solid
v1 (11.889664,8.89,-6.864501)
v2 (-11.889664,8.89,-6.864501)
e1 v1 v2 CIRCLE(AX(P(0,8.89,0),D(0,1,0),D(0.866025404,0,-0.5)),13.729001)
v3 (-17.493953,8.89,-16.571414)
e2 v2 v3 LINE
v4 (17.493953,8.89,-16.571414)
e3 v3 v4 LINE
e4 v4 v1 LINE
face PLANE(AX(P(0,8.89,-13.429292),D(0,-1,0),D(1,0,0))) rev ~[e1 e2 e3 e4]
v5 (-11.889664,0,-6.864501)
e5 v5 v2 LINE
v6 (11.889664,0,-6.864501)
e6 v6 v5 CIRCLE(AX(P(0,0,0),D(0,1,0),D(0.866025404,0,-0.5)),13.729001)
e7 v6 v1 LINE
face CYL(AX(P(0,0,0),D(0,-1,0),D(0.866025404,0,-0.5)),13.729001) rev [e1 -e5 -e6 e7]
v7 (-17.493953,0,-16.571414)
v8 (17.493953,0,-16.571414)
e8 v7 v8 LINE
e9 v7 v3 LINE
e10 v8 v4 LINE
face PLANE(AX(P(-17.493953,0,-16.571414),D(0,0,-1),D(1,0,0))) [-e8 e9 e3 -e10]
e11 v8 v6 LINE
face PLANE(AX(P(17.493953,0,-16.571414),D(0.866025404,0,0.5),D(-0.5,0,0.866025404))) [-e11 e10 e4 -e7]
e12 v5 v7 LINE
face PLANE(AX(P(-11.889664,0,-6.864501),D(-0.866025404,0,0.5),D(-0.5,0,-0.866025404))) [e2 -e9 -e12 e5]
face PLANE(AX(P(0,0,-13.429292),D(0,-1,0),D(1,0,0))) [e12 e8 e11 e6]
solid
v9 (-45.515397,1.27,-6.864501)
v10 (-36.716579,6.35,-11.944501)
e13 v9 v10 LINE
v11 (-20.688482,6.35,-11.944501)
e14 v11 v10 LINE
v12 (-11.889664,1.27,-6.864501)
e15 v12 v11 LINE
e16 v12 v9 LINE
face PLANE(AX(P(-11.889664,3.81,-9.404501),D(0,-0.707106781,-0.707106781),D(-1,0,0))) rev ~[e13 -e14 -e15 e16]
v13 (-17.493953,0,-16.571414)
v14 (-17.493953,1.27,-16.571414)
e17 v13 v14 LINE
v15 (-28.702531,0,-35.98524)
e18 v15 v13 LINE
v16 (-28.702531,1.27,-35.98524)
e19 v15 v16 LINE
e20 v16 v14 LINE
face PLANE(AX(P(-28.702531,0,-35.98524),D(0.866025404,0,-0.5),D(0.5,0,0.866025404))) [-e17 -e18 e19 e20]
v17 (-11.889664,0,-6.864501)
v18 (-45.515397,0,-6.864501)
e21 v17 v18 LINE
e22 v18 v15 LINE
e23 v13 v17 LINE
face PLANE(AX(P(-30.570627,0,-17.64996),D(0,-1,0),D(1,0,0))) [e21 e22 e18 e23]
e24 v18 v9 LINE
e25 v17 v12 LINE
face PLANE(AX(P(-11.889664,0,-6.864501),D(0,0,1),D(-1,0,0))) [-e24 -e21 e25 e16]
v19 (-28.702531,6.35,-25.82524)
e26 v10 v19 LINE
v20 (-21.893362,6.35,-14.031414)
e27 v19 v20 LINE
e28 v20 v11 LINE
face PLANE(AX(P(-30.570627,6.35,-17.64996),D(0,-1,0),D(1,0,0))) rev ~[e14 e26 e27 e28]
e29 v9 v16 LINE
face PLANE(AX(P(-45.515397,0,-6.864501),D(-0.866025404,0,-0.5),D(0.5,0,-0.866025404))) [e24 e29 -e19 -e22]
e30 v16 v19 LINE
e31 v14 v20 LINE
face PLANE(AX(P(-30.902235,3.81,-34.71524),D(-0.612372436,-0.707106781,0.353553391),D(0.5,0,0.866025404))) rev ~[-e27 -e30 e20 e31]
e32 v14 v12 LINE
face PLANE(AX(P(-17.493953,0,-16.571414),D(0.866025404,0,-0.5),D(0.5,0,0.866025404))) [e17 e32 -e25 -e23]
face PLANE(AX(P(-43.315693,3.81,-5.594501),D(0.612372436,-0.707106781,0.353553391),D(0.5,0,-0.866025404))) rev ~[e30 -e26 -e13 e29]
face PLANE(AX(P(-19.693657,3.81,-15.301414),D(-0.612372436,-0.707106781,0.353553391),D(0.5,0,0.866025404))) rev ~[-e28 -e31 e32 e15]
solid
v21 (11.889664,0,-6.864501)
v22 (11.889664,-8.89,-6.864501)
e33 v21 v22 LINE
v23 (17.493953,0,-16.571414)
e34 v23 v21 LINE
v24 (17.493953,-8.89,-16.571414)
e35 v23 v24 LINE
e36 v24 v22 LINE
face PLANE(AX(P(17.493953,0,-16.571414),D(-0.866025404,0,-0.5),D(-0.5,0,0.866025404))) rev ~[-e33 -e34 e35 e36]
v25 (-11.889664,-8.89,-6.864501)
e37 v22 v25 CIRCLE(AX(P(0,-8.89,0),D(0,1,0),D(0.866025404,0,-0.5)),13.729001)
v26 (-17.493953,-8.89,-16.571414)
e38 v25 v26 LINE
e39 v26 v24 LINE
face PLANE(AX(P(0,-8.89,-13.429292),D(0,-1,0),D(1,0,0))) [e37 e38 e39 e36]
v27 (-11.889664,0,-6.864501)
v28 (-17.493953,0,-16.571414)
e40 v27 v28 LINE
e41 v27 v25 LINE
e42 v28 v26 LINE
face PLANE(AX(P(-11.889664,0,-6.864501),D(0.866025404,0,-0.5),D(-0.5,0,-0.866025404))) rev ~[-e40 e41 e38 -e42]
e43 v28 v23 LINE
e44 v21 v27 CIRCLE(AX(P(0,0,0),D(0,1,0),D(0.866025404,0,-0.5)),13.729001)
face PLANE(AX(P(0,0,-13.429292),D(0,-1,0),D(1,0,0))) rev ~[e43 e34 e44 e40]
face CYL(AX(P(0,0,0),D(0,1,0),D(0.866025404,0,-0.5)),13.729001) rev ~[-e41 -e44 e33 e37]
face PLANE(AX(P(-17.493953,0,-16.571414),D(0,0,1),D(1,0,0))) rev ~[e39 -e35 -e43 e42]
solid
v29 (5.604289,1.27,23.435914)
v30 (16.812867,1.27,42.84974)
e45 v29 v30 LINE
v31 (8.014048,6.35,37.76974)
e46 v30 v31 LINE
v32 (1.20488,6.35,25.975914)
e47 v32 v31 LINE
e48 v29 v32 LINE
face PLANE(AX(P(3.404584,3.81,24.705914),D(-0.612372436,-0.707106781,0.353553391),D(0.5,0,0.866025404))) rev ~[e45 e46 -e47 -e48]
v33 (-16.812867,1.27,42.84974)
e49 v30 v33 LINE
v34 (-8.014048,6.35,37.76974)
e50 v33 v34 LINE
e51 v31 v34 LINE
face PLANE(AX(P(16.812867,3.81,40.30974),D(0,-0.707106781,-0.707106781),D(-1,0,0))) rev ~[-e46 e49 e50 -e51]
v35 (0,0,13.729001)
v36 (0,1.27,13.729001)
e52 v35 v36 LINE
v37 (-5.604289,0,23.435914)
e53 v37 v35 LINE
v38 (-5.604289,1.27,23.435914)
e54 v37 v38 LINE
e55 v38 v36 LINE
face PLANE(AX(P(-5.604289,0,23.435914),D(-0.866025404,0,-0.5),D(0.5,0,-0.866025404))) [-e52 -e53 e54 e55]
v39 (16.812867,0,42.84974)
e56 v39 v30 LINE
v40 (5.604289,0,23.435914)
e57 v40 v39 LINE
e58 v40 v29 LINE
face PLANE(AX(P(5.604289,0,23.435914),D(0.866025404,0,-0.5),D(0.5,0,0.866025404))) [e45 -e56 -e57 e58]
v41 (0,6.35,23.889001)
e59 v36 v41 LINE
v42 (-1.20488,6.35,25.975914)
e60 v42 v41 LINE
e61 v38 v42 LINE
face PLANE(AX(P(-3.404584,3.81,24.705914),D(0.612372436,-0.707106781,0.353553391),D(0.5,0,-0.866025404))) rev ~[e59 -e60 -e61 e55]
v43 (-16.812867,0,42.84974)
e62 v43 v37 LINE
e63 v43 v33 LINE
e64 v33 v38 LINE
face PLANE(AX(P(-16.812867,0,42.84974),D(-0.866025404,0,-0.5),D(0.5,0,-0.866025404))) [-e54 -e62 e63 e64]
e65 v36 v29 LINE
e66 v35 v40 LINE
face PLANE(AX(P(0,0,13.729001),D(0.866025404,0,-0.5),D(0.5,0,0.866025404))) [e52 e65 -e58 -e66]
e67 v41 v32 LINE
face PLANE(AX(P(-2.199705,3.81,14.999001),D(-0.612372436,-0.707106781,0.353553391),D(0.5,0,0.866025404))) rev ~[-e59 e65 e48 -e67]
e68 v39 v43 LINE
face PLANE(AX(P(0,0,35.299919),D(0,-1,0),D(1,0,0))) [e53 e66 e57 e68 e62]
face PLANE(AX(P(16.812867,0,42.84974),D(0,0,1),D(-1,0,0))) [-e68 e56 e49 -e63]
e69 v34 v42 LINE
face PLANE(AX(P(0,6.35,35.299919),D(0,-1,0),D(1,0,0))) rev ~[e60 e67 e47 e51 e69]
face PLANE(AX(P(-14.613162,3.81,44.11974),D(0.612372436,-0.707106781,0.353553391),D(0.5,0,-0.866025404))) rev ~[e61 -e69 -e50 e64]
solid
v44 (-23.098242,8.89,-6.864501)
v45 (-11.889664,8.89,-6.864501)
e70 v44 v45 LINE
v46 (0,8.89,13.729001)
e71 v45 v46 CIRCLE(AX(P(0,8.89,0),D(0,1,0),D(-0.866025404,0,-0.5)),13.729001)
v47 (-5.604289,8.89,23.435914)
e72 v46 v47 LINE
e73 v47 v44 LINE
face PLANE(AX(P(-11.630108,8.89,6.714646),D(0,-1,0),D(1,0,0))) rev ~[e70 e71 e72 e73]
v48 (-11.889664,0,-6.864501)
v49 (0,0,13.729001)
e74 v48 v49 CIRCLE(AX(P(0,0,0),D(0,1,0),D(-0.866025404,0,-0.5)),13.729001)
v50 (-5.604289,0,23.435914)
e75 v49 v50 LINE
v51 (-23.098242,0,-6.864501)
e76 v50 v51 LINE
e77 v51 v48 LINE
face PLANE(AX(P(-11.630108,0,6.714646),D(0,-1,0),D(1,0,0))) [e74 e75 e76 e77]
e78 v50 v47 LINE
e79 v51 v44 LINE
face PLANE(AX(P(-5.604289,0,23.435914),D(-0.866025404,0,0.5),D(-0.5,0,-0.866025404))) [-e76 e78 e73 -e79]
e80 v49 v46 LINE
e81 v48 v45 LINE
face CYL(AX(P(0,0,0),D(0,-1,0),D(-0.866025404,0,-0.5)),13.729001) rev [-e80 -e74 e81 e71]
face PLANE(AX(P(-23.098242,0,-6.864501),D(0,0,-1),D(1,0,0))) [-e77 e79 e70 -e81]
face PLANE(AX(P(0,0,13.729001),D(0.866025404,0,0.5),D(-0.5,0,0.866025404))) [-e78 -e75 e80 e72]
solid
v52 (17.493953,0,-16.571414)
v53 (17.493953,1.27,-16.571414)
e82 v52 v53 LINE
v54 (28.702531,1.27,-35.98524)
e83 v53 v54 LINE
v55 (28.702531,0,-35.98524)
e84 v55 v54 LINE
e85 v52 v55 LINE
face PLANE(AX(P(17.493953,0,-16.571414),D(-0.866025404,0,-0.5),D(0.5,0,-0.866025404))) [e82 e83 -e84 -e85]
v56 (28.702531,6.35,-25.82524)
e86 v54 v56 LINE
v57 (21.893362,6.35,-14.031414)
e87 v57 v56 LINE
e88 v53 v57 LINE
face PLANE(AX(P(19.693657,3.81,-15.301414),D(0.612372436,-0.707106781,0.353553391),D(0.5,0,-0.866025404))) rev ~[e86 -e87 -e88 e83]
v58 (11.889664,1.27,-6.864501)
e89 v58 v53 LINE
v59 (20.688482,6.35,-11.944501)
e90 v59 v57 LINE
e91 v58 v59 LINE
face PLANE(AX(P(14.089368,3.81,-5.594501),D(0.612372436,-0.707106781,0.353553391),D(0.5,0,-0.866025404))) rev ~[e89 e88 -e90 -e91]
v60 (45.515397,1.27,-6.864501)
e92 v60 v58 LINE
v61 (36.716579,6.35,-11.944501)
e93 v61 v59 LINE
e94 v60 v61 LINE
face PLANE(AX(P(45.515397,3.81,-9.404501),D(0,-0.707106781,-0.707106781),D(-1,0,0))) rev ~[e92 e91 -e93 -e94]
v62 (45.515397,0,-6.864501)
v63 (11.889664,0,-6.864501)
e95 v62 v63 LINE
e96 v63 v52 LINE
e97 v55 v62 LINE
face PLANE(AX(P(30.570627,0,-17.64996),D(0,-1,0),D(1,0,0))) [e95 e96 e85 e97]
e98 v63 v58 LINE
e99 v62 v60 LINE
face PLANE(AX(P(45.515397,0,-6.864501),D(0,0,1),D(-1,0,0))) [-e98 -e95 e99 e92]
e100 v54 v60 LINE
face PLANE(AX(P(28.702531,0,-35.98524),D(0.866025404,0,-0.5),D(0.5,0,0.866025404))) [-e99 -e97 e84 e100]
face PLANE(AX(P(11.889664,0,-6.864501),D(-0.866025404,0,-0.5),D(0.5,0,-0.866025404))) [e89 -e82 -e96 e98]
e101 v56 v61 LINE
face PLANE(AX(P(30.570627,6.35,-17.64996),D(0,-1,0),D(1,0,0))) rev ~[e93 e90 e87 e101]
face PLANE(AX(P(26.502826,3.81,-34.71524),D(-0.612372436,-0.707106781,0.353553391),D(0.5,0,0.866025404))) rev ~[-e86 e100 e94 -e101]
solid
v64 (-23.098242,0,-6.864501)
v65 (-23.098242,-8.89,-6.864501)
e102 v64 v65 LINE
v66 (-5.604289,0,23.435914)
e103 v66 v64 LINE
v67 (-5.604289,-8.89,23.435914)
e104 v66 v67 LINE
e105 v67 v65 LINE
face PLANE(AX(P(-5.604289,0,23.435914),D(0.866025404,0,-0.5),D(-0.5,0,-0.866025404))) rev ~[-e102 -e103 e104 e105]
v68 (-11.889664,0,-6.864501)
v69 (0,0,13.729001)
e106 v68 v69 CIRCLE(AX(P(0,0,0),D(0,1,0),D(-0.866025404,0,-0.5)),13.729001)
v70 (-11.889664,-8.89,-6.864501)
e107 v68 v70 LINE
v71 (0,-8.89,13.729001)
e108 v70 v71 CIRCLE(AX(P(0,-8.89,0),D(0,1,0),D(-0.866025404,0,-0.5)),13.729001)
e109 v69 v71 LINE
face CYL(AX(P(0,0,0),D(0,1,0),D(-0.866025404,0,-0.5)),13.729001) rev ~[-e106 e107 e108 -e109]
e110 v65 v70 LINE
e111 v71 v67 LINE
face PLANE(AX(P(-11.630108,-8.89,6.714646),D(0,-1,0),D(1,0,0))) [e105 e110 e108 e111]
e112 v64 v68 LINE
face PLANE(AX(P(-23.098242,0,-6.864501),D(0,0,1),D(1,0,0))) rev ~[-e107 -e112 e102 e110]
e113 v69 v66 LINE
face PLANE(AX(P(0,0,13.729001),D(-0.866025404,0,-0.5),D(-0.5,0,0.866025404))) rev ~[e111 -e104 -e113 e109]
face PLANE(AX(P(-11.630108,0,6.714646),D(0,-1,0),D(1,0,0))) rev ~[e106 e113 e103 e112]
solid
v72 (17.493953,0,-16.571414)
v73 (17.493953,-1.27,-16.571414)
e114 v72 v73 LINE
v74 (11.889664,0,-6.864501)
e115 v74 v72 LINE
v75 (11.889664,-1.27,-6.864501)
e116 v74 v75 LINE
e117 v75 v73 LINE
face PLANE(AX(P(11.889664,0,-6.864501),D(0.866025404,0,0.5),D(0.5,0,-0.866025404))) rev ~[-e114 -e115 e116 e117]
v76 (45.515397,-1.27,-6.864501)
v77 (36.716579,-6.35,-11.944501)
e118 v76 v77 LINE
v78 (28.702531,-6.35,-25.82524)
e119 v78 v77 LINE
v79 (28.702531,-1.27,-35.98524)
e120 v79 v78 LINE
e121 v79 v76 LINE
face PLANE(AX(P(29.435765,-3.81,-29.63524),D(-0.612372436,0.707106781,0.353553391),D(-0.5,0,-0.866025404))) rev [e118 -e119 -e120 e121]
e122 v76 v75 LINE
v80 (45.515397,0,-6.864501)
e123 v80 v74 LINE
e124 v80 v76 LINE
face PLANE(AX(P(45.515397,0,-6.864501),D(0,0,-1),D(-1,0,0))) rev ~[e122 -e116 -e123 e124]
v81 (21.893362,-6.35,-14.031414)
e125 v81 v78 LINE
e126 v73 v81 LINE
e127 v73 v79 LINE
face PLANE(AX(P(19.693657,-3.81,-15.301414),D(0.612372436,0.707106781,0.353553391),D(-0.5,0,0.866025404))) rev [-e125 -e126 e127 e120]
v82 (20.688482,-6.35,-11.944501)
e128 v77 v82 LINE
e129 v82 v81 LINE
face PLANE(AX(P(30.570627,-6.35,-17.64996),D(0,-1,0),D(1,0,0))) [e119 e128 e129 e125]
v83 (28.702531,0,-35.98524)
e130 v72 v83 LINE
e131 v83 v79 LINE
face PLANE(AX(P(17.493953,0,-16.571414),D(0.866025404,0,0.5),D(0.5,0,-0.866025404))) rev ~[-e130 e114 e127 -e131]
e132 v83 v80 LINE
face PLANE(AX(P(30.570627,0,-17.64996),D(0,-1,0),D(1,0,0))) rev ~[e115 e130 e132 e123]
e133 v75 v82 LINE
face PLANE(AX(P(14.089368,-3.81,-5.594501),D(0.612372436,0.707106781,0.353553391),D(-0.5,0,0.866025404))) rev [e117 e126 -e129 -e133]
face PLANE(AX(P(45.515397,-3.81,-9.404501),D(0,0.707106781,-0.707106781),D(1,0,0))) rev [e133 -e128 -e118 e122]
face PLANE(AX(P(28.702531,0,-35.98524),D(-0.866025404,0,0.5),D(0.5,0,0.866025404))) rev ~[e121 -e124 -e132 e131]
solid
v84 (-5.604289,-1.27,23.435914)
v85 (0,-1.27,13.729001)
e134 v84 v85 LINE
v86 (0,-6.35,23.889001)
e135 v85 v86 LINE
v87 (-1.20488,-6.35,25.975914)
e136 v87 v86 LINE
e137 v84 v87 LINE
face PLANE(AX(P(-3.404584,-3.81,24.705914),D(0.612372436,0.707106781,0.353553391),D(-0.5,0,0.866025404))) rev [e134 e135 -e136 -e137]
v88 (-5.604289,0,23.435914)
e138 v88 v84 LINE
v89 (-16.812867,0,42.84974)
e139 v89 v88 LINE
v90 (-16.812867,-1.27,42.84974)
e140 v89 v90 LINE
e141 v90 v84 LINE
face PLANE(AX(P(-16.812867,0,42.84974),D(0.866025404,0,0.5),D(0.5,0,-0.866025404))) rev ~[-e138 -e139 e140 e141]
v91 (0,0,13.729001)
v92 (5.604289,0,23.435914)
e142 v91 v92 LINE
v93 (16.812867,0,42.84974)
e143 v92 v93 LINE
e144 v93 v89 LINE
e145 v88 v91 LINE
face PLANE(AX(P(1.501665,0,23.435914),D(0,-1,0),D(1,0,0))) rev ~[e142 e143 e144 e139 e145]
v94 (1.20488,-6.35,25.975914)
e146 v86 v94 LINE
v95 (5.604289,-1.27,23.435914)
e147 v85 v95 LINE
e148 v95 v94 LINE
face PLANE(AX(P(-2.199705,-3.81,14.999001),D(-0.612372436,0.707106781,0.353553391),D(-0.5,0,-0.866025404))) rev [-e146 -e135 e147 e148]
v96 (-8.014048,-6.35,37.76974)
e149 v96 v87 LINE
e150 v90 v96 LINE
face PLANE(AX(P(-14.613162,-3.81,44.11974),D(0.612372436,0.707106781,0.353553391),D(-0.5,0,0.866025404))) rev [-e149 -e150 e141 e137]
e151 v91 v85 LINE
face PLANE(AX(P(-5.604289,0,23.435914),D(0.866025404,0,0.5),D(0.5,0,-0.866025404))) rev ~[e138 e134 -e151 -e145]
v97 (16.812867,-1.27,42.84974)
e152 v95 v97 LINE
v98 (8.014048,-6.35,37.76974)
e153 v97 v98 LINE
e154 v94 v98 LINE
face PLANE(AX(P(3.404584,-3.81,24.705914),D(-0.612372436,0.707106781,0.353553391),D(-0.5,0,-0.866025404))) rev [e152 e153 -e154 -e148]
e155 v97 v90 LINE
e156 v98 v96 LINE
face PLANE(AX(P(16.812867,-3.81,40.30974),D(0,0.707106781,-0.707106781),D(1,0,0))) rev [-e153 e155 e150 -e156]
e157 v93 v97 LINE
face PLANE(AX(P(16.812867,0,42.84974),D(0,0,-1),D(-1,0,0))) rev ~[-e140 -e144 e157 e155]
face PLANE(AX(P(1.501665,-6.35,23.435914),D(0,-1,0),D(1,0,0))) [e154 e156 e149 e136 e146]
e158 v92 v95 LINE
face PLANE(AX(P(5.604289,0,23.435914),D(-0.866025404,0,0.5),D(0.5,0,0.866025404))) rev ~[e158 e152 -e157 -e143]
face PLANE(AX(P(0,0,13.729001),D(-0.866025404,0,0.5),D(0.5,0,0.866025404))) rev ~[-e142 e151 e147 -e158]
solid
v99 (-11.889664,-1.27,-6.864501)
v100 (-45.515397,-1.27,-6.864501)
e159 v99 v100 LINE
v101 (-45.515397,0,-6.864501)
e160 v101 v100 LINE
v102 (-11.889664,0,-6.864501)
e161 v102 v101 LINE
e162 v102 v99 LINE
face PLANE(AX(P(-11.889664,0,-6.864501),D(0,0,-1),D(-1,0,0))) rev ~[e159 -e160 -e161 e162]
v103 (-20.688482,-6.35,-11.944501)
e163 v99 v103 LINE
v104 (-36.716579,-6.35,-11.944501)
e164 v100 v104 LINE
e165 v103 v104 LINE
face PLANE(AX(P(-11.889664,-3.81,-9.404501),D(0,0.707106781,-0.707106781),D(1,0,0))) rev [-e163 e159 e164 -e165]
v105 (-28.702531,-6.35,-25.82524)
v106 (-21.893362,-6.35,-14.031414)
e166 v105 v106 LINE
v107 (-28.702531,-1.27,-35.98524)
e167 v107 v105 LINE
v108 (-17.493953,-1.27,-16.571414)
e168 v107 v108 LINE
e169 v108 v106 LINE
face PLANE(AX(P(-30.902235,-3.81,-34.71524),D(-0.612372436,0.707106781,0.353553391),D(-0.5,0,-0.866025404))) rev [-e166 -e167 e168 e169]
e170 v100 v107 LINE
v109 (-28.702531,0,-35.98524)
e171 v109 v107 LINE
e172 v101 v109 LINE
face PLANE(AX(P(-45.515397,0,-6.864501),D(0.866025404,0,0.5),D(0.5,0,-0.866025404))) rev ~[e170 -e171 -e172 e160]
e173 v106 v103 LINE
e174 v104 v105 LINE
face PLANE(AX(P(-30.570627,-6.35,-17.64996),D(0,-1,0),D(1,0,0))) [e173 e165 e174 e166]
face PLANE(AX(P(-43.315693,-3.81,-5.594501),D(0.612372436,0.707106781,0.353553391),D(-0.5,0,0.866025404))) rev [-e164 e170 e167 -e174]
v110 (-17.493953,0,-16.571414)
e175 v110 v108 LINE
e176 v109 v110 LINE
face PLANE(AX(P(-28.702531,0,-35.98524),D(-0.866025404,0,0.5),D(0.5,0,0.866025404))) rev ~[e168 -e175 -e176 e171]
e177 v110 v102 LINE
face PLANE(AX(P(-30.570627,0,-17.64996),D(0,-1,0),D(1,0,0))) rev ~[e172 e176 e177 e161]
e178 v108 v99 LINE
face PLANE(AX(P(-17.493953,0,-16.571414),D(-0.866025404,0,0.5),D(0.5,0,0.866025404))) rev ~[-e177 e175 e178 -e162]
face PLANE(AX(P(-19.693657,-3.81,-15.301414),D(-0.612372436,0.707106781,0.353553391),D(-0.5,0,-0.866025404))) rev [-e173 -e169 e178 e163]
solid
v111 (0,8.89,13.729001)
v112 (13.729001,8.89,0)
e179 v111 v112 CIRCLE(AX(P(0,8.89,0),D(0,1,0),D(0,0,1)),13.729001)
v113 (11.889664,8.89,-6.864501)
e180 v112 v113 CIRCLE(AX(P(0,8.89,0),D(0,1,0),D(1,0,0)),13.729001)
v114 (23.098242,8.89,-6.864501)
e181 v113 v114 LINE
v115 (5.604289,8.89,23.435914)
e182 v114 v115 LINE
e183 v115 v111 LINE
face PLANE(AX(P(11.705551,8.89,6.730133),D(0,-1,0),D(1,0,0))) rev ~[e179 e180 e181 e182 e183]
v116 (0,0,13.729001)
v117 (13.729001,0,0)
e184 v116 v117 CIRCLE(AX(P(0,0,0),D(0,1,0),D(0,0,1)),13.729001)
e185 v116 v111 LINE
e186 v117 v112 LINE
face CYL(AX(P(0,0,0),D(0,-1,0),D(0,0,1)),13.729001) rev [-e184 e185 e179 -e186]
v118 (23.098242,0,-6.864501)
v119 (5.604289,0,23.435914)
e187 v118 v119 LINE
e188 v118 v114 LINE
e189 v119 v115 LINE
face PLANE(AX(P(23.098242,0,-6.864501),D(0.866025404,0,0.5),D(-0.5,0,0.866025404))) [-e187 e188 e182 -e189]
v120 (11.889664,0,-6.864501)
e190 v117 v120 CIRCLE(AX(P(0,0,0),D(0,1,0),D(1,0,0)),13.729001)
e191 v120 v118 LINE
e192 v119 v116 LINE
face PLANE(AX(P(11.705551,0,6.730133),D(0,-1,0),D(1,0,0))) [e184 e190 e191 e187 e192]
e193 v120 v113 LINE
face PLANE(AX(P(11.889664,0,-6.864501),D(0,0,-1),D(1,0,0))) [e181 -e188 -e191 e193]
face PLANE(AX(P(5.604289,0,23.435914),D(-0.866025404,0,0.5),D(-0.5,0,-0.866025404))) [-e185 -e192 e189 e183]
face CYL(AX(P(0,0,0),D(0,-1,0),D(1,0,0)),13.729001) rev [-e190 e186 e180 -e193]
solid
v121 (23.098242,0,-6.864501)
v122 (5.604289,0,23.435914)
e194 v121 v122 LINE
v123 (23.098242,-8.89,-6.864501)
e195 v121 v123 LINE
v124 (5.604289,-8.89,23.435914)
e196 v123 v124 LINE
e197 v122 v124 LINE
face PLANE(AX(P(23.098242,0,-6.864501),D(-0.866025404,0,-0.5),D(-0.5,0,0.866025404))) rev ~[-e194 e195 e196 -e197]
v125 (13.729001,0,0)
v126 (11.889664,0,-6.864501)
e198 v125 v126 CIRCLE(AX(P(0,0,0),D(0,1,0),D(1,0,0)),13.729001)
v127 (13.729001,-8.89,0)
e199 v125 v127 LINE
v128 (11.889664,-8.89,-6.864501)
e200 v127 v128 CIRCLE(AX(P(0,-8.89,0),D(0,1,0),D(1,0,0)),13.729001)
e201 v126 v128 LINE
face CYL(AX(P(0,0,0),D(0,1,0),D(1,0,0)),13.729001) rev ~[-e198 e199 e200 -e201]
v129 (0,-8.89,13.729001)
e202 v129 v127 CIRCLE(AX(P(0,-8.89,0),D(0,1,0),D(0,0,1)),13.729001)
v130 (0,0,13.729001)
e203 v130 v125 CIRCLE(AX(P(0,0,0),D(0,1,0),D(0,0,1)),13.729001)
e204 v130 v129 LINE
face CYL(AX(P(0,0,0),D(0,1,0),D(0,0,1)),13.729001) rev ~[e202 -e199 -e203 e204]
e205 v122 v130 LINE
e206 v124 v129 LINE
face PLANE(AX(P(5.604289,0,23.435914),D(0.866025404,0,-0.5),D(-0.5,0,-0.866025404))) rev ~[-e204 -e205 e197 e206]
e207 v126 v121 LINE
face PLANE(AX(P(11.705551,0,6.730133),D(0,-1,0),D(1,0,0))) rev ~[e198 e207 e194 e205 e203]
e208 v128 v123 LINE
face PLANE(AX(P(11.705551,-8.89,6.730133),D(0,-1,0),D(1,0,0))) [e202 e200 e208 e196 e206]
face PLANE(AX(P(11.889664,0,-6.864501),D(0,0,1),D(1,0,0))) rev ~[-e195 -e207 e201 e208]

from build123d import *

# Parameters (mm, degrees)
F1_DEPTH  = 6.35
F2_DEPTH  = 8.89
F3_SIZE   = 5.08
F3_2_SIZE = 5.08
F3_3_SIZE = 5.08
F4_SIZE   = 5.08
F5_DEPTH  = 6.35
F6_SIZE   = 5.08
F6_2_SIZE = 5.08
F6_3_SIZE = 5.08
F7_DEPTH  = 8.89


with BuildPart() as f1:
    # F0 (on Front) → F1 (new body)
    with BuildSketch(Plane.XZ):
        Polygon((45.5153971005, -6.864500683), (23.0982416679, -6.864500683), (28.702530526, -16.5714137256), (17.4939528097, -16.5714137256), (28.702530526, -35.9852398108), align=None)
        Polygon((28.702530526, -16.5714137256), (23.0982416679, -6.864500683), (11.8896639515, -6.864500683), align=None)
        Polygon((17.4939528097, -16.5714137256), (28.702530526, -16.5714137256), (11.8896639515, -6.864500683), align=None)
    extrude(amount=F1_DEPTH)

    # F3#2
    f3_2_edges = [f1.edges().sort_by_distance(p)[0] for p in [
        (28.702531, -6.35, -6.864501),
        (20.296097, -6.35, -21.42487),
    ]]
    chamfer(f3_2_edges, length=F3_2_SIZE)

    # F4
    f4_edges = [f1.edges().sort_by_distance(p)[0] for p in [
        (37.108964, -6.35, -21.42487),
    ]]
    chamfer(f4_edges, length=F4_SIZE)


with BuildPart() as f1b:
    # F0 (on Front) → F1, piece 2 (new body)
    with BuildSketch(Plane.XZ):
        Polygon((-28.702530526, -16.5714137256), (-23.0982416679, -6.864500683), (-45.5153971005, -6.864500683), (-28.702530526, -35.9852398108), (-17.4939528097, -16.5714137256), align=None)
        Polygon((-11.8896639515, -6.864500683), (-23.0982416679, -6.864500683), (-28.702530526, -16.5714137256), align=None)
        Polygon((-17.4939528097, -16.5714137256), (-11.8896639515, -6.864500683), (-28.702530526, -16.5714137256), align=None)
    extrude(amount=F1_DEPTH)

    # F3#3
    f3_3_edges = [f1b.edges().sort_by_distance(p)[0] for p in [
        (-20.296097, -6.35, -21.42487),
        (-28.702531, -6.35, -6.864501),
        (-37.108964, -6.35, -21.42487),
    ]]
    chamfer(f3_3_edges, length=F3_3_SIZE)


with BuildPart() as f1c:
    # F0 (on Front) → F1, piece 3 (new body)
    with BuildSketch(Plane.XZ):
        Polygon((5.6042888582, 23.4359144086), (0, 33.1428274512), (0, 13.729001366), align=None)
        Polygon((0, 13.729001366), (0, 33.1428274512), (-5.6042888582, 23.4359144086), align=None)
        Polygon((-5.6042888582, 23.4359144086), (0, 33.1428274512), (5.6042888582, 23.4359144086), (16.8128665745, 42.8497404938), (-16.8128665745, 42.8497404938), align=None)
    extrude(amount=F1_DEPTH)

    # F3
    f3_edges = [f1c.edges().sort_by_distance(p)[0] for p in [
        (-8.406433, -6.35, 28.289371),
        (8.406433, -6.35, 28.289371),
        (0, -6.35, 42.84974),
    ]]
    chamfer(f3_edges, length=F3_SIZE)


with BuildPart() as f2:
    # F0 (on Front) → F2 (new body)
    with BuildSketch(Plane.XZ):
        with BuildLine():
            Line((23.0982416679, -6.864500683), (5.6042888582, 23.4359144086))
            Line((5.6042888582, 23.4359144086), (0, 13.729001366))
            ThreePointArc((0, 13.729001366), (9.7078699648, 9.7078699648), (13.729001366, 0))
            ThreePointArc((13.729001366, 0), (13.2611969886, -3.5533270238), (11.8896639515, -6.864500683))
            Line((11.8896639515, -6.864500683), (23.0982416679, -6.864500683))
        make_face()
    extrude(amount=F2_DEPTH)


with BuildPart() as f2b:
    # F0 (on Front) → F2, piece 2 (new body)
    with BuildSketch(Plane.XZ):
        with BuildLine():
            ThreePointArc((11.8896639515, -6.864500683), (0, -13.729001366), (-11.8896639515, -6.864500683))
            Line((-11.8896639515, -6.864500683), (-17.4939528097, -16.5714137256))
            Line((-17.4939528097, -16.5714137256), (17.4939528097, -16.5714137256))
            Line((17.4939528097, -16.5714137256), (11.8896639515, -6.864500683))
        make_face()
    extrude(amount=F2_DEPTH)


with BuildPart() as f2c:
    # F0 (on Front) → F2, piece 3 (new body)
    with BuildSketch(Plane.XZ):
        with BuildLine():
            Line((0, 13.729001366), (-5.6042888582, 23.4359144086))
            Line((-5.6042888582, 23.4359144086), (-23.0982416679, -6.864500683))
            Line((-23.0982416679, -6.864500683), (-11.8896639515, -6.864500683))
            ThreePointArc((-11.8896639515, -6.864500683), (-11.8896639515, 6.864500683), (0, 13.729001366))
        make_face()
    extrude(amount=F2_DEPTH)


with BuildPart() as f5:
    # F0 (on Front) → F5 (new body)
    with BuildSketch(Plane.XZ):
        Polygon((45.5153971005, -6.864500683), (23.0982416679, -6.864500683), (28.702530526, -16.5714137256), (17.4939528097, -16.5714137256), (28.702530526, -35.9852398108), align=None)
        Polygon((17.4939528097, -16.5714137256), (28.702530526, -16.5714137256), (11.8896639515, -6.864500683), align=None)
        Polygon((28.702530526, -16.5714137256), (23.0982416679, -6.864500683), (11.8896639515, -6.864500683), align=None)
    extrude(amount=-F5_DEPTH)

    # F6
    f6_edges = [f5.edges().sort_by_distance(p)[0] for p in [
        (37.108964, 6.35, -21.42487),
        (28.702531, 6.35, -6.864501),
        (20.296097, 6.35, -21.42487),
    ]]
    chamfer(f6_edges, length=F6_SIZE)


with BuildPart() as f5b:
    # F0 (on Front) → F5, piece 2 (new body)
    with BuildSketch(Plane.XZ):
        Polygon((-28.702530526, -16.5714137256), (-23.0982416679, -6.864500683), (-45.5153971005, -6.864500683), (-28.702530526, -35.9852398108), (-17.4939528097, -16.5714137256), align=None)
        Polygon((-17.4939528097, -16.5714137256), (-11.8896639515, -6.864500683), (-28.702530526, -16.5714137256), align=None)
        Polygon((-11.8896639515, -6.864500683), (-23.0982416679, -6.864500683), (-28.702530526, -16.5714137256), align=None)
    extrude(amount=-F5_DEPTH)

    # F6#2
    f6_2_edges = [f5b.edges().sort_by_distance(p)[0] for p in [
        (-20.296097, 6.35, -21.42487),
        (-37.108964, 6.35, -21.42487),
        (-28.702531, 6.35, -6.864501),
    ]]
    chamfer(f6_2_edges, length=F6_2_SIZE)


with BuildPart() as f5c:
    # F0 (on Front) → F5, piece 3 (new body)
    with BuildSketch(Plane.XZ):
        Polygon((-5.6042888582, 23.4359144086), (0, 33.1428274512), (5.6042888582, 23.4359144086), (16.8128665745, 42.8497404938), (-16.8128665745, 42.8497404938), align=None)
        Polygon((0, 13.729001366), (0, 33.1428274512), (-5.6042888582, 23.4359144086), align=None)
        Polygon((5.6042888582, 23.4359144086), (0, 33.1428274512), (0, 13.729001366), align=None)
    extrude(amount=-F5_DEPTH)

    # F6#3
    f6_3_edges = [f5c.edges().sort_by_distance(p)[0] for p in [
        (-8.406433, 6.35, 28.289371),
        (0, 6.35, 42.84974),
        (8.406433, 6.35, 28.289371),
    ]]
    chamfer(f6_3_edges, length=F6_3_SIZE)


with BuildPart() as f7:
    # F0 (on Front) → F7 (new body)
    with BuildSketch(Plane.XZ):
        with BuildLine():
            Line((0, 13.729001366), (-5.6042888582, 23.4359144086))
            Line((-5.6042888582, 23.4359144086), (-23.0982416679, -6.864500683))
            Line((-23.0982416679, -6.864500683), (-11.8896639515, -6.864500683))
            ThreePointArc((-11.8896639515, -6.864500683), (-11.8896639515, 6.864500683), (0, 13.729001366))
        make_face()
    extrude(amount=-F7_DEPTH)


with BuildPart() as f7b:
    # F0 (on Front) → F7, piece 2 (new body)
    with BuildSketch(Plane.XZ):
        with BuildLine():
            ThreePointArc((11.8896639515, -6.864500683), (0, -13.729001366), (-11.8896639515, -6.864500683))
            Line((-11.8896639515, -6.864500683), (-17.4939528097, -16.5714137256))
            Line((-17.4939528097, -16.5714137256), (17.4939528097, -16.5714137256))
            Line((17.4939528097, -16.5714137256), (11.8896639515, -6.864500683))
        make_face()
    extrude(amount=-F7_DEPTH)


with BuildPart() as f7c:
    # F0 (on Front) → F7, piece 3 (new body)
    with BuildSketch(Plane.XZ):
        with BuildLine():
            Line((23.0982416679, -6.864500683), (5.6042888582, 23.4359144086))
            Line((5.6042888582, 23.4359144086), (0, 13.729001366))
            ThreePointArc((0, 13.729001366), (9.7078699648, 9.7078699648), (13.729001366, 0))
            ThreePointArc((13.729001366, 0), (13.2611969886, -3.5533270238), (11.8896639515, -6.864500683))
            Line((11.8896639515, -6.864500683), (23.0982416679, -6.864500683))
        make_face()
    extrude(amount=-F7_DEPTH)


solid = Compound([f1.part, f1b.part, f1c.part, f2.part, f2b.part, f2c.part, f5.part, f5b.part, f5c.part, f7.part, f7b.part, f7c.part])
